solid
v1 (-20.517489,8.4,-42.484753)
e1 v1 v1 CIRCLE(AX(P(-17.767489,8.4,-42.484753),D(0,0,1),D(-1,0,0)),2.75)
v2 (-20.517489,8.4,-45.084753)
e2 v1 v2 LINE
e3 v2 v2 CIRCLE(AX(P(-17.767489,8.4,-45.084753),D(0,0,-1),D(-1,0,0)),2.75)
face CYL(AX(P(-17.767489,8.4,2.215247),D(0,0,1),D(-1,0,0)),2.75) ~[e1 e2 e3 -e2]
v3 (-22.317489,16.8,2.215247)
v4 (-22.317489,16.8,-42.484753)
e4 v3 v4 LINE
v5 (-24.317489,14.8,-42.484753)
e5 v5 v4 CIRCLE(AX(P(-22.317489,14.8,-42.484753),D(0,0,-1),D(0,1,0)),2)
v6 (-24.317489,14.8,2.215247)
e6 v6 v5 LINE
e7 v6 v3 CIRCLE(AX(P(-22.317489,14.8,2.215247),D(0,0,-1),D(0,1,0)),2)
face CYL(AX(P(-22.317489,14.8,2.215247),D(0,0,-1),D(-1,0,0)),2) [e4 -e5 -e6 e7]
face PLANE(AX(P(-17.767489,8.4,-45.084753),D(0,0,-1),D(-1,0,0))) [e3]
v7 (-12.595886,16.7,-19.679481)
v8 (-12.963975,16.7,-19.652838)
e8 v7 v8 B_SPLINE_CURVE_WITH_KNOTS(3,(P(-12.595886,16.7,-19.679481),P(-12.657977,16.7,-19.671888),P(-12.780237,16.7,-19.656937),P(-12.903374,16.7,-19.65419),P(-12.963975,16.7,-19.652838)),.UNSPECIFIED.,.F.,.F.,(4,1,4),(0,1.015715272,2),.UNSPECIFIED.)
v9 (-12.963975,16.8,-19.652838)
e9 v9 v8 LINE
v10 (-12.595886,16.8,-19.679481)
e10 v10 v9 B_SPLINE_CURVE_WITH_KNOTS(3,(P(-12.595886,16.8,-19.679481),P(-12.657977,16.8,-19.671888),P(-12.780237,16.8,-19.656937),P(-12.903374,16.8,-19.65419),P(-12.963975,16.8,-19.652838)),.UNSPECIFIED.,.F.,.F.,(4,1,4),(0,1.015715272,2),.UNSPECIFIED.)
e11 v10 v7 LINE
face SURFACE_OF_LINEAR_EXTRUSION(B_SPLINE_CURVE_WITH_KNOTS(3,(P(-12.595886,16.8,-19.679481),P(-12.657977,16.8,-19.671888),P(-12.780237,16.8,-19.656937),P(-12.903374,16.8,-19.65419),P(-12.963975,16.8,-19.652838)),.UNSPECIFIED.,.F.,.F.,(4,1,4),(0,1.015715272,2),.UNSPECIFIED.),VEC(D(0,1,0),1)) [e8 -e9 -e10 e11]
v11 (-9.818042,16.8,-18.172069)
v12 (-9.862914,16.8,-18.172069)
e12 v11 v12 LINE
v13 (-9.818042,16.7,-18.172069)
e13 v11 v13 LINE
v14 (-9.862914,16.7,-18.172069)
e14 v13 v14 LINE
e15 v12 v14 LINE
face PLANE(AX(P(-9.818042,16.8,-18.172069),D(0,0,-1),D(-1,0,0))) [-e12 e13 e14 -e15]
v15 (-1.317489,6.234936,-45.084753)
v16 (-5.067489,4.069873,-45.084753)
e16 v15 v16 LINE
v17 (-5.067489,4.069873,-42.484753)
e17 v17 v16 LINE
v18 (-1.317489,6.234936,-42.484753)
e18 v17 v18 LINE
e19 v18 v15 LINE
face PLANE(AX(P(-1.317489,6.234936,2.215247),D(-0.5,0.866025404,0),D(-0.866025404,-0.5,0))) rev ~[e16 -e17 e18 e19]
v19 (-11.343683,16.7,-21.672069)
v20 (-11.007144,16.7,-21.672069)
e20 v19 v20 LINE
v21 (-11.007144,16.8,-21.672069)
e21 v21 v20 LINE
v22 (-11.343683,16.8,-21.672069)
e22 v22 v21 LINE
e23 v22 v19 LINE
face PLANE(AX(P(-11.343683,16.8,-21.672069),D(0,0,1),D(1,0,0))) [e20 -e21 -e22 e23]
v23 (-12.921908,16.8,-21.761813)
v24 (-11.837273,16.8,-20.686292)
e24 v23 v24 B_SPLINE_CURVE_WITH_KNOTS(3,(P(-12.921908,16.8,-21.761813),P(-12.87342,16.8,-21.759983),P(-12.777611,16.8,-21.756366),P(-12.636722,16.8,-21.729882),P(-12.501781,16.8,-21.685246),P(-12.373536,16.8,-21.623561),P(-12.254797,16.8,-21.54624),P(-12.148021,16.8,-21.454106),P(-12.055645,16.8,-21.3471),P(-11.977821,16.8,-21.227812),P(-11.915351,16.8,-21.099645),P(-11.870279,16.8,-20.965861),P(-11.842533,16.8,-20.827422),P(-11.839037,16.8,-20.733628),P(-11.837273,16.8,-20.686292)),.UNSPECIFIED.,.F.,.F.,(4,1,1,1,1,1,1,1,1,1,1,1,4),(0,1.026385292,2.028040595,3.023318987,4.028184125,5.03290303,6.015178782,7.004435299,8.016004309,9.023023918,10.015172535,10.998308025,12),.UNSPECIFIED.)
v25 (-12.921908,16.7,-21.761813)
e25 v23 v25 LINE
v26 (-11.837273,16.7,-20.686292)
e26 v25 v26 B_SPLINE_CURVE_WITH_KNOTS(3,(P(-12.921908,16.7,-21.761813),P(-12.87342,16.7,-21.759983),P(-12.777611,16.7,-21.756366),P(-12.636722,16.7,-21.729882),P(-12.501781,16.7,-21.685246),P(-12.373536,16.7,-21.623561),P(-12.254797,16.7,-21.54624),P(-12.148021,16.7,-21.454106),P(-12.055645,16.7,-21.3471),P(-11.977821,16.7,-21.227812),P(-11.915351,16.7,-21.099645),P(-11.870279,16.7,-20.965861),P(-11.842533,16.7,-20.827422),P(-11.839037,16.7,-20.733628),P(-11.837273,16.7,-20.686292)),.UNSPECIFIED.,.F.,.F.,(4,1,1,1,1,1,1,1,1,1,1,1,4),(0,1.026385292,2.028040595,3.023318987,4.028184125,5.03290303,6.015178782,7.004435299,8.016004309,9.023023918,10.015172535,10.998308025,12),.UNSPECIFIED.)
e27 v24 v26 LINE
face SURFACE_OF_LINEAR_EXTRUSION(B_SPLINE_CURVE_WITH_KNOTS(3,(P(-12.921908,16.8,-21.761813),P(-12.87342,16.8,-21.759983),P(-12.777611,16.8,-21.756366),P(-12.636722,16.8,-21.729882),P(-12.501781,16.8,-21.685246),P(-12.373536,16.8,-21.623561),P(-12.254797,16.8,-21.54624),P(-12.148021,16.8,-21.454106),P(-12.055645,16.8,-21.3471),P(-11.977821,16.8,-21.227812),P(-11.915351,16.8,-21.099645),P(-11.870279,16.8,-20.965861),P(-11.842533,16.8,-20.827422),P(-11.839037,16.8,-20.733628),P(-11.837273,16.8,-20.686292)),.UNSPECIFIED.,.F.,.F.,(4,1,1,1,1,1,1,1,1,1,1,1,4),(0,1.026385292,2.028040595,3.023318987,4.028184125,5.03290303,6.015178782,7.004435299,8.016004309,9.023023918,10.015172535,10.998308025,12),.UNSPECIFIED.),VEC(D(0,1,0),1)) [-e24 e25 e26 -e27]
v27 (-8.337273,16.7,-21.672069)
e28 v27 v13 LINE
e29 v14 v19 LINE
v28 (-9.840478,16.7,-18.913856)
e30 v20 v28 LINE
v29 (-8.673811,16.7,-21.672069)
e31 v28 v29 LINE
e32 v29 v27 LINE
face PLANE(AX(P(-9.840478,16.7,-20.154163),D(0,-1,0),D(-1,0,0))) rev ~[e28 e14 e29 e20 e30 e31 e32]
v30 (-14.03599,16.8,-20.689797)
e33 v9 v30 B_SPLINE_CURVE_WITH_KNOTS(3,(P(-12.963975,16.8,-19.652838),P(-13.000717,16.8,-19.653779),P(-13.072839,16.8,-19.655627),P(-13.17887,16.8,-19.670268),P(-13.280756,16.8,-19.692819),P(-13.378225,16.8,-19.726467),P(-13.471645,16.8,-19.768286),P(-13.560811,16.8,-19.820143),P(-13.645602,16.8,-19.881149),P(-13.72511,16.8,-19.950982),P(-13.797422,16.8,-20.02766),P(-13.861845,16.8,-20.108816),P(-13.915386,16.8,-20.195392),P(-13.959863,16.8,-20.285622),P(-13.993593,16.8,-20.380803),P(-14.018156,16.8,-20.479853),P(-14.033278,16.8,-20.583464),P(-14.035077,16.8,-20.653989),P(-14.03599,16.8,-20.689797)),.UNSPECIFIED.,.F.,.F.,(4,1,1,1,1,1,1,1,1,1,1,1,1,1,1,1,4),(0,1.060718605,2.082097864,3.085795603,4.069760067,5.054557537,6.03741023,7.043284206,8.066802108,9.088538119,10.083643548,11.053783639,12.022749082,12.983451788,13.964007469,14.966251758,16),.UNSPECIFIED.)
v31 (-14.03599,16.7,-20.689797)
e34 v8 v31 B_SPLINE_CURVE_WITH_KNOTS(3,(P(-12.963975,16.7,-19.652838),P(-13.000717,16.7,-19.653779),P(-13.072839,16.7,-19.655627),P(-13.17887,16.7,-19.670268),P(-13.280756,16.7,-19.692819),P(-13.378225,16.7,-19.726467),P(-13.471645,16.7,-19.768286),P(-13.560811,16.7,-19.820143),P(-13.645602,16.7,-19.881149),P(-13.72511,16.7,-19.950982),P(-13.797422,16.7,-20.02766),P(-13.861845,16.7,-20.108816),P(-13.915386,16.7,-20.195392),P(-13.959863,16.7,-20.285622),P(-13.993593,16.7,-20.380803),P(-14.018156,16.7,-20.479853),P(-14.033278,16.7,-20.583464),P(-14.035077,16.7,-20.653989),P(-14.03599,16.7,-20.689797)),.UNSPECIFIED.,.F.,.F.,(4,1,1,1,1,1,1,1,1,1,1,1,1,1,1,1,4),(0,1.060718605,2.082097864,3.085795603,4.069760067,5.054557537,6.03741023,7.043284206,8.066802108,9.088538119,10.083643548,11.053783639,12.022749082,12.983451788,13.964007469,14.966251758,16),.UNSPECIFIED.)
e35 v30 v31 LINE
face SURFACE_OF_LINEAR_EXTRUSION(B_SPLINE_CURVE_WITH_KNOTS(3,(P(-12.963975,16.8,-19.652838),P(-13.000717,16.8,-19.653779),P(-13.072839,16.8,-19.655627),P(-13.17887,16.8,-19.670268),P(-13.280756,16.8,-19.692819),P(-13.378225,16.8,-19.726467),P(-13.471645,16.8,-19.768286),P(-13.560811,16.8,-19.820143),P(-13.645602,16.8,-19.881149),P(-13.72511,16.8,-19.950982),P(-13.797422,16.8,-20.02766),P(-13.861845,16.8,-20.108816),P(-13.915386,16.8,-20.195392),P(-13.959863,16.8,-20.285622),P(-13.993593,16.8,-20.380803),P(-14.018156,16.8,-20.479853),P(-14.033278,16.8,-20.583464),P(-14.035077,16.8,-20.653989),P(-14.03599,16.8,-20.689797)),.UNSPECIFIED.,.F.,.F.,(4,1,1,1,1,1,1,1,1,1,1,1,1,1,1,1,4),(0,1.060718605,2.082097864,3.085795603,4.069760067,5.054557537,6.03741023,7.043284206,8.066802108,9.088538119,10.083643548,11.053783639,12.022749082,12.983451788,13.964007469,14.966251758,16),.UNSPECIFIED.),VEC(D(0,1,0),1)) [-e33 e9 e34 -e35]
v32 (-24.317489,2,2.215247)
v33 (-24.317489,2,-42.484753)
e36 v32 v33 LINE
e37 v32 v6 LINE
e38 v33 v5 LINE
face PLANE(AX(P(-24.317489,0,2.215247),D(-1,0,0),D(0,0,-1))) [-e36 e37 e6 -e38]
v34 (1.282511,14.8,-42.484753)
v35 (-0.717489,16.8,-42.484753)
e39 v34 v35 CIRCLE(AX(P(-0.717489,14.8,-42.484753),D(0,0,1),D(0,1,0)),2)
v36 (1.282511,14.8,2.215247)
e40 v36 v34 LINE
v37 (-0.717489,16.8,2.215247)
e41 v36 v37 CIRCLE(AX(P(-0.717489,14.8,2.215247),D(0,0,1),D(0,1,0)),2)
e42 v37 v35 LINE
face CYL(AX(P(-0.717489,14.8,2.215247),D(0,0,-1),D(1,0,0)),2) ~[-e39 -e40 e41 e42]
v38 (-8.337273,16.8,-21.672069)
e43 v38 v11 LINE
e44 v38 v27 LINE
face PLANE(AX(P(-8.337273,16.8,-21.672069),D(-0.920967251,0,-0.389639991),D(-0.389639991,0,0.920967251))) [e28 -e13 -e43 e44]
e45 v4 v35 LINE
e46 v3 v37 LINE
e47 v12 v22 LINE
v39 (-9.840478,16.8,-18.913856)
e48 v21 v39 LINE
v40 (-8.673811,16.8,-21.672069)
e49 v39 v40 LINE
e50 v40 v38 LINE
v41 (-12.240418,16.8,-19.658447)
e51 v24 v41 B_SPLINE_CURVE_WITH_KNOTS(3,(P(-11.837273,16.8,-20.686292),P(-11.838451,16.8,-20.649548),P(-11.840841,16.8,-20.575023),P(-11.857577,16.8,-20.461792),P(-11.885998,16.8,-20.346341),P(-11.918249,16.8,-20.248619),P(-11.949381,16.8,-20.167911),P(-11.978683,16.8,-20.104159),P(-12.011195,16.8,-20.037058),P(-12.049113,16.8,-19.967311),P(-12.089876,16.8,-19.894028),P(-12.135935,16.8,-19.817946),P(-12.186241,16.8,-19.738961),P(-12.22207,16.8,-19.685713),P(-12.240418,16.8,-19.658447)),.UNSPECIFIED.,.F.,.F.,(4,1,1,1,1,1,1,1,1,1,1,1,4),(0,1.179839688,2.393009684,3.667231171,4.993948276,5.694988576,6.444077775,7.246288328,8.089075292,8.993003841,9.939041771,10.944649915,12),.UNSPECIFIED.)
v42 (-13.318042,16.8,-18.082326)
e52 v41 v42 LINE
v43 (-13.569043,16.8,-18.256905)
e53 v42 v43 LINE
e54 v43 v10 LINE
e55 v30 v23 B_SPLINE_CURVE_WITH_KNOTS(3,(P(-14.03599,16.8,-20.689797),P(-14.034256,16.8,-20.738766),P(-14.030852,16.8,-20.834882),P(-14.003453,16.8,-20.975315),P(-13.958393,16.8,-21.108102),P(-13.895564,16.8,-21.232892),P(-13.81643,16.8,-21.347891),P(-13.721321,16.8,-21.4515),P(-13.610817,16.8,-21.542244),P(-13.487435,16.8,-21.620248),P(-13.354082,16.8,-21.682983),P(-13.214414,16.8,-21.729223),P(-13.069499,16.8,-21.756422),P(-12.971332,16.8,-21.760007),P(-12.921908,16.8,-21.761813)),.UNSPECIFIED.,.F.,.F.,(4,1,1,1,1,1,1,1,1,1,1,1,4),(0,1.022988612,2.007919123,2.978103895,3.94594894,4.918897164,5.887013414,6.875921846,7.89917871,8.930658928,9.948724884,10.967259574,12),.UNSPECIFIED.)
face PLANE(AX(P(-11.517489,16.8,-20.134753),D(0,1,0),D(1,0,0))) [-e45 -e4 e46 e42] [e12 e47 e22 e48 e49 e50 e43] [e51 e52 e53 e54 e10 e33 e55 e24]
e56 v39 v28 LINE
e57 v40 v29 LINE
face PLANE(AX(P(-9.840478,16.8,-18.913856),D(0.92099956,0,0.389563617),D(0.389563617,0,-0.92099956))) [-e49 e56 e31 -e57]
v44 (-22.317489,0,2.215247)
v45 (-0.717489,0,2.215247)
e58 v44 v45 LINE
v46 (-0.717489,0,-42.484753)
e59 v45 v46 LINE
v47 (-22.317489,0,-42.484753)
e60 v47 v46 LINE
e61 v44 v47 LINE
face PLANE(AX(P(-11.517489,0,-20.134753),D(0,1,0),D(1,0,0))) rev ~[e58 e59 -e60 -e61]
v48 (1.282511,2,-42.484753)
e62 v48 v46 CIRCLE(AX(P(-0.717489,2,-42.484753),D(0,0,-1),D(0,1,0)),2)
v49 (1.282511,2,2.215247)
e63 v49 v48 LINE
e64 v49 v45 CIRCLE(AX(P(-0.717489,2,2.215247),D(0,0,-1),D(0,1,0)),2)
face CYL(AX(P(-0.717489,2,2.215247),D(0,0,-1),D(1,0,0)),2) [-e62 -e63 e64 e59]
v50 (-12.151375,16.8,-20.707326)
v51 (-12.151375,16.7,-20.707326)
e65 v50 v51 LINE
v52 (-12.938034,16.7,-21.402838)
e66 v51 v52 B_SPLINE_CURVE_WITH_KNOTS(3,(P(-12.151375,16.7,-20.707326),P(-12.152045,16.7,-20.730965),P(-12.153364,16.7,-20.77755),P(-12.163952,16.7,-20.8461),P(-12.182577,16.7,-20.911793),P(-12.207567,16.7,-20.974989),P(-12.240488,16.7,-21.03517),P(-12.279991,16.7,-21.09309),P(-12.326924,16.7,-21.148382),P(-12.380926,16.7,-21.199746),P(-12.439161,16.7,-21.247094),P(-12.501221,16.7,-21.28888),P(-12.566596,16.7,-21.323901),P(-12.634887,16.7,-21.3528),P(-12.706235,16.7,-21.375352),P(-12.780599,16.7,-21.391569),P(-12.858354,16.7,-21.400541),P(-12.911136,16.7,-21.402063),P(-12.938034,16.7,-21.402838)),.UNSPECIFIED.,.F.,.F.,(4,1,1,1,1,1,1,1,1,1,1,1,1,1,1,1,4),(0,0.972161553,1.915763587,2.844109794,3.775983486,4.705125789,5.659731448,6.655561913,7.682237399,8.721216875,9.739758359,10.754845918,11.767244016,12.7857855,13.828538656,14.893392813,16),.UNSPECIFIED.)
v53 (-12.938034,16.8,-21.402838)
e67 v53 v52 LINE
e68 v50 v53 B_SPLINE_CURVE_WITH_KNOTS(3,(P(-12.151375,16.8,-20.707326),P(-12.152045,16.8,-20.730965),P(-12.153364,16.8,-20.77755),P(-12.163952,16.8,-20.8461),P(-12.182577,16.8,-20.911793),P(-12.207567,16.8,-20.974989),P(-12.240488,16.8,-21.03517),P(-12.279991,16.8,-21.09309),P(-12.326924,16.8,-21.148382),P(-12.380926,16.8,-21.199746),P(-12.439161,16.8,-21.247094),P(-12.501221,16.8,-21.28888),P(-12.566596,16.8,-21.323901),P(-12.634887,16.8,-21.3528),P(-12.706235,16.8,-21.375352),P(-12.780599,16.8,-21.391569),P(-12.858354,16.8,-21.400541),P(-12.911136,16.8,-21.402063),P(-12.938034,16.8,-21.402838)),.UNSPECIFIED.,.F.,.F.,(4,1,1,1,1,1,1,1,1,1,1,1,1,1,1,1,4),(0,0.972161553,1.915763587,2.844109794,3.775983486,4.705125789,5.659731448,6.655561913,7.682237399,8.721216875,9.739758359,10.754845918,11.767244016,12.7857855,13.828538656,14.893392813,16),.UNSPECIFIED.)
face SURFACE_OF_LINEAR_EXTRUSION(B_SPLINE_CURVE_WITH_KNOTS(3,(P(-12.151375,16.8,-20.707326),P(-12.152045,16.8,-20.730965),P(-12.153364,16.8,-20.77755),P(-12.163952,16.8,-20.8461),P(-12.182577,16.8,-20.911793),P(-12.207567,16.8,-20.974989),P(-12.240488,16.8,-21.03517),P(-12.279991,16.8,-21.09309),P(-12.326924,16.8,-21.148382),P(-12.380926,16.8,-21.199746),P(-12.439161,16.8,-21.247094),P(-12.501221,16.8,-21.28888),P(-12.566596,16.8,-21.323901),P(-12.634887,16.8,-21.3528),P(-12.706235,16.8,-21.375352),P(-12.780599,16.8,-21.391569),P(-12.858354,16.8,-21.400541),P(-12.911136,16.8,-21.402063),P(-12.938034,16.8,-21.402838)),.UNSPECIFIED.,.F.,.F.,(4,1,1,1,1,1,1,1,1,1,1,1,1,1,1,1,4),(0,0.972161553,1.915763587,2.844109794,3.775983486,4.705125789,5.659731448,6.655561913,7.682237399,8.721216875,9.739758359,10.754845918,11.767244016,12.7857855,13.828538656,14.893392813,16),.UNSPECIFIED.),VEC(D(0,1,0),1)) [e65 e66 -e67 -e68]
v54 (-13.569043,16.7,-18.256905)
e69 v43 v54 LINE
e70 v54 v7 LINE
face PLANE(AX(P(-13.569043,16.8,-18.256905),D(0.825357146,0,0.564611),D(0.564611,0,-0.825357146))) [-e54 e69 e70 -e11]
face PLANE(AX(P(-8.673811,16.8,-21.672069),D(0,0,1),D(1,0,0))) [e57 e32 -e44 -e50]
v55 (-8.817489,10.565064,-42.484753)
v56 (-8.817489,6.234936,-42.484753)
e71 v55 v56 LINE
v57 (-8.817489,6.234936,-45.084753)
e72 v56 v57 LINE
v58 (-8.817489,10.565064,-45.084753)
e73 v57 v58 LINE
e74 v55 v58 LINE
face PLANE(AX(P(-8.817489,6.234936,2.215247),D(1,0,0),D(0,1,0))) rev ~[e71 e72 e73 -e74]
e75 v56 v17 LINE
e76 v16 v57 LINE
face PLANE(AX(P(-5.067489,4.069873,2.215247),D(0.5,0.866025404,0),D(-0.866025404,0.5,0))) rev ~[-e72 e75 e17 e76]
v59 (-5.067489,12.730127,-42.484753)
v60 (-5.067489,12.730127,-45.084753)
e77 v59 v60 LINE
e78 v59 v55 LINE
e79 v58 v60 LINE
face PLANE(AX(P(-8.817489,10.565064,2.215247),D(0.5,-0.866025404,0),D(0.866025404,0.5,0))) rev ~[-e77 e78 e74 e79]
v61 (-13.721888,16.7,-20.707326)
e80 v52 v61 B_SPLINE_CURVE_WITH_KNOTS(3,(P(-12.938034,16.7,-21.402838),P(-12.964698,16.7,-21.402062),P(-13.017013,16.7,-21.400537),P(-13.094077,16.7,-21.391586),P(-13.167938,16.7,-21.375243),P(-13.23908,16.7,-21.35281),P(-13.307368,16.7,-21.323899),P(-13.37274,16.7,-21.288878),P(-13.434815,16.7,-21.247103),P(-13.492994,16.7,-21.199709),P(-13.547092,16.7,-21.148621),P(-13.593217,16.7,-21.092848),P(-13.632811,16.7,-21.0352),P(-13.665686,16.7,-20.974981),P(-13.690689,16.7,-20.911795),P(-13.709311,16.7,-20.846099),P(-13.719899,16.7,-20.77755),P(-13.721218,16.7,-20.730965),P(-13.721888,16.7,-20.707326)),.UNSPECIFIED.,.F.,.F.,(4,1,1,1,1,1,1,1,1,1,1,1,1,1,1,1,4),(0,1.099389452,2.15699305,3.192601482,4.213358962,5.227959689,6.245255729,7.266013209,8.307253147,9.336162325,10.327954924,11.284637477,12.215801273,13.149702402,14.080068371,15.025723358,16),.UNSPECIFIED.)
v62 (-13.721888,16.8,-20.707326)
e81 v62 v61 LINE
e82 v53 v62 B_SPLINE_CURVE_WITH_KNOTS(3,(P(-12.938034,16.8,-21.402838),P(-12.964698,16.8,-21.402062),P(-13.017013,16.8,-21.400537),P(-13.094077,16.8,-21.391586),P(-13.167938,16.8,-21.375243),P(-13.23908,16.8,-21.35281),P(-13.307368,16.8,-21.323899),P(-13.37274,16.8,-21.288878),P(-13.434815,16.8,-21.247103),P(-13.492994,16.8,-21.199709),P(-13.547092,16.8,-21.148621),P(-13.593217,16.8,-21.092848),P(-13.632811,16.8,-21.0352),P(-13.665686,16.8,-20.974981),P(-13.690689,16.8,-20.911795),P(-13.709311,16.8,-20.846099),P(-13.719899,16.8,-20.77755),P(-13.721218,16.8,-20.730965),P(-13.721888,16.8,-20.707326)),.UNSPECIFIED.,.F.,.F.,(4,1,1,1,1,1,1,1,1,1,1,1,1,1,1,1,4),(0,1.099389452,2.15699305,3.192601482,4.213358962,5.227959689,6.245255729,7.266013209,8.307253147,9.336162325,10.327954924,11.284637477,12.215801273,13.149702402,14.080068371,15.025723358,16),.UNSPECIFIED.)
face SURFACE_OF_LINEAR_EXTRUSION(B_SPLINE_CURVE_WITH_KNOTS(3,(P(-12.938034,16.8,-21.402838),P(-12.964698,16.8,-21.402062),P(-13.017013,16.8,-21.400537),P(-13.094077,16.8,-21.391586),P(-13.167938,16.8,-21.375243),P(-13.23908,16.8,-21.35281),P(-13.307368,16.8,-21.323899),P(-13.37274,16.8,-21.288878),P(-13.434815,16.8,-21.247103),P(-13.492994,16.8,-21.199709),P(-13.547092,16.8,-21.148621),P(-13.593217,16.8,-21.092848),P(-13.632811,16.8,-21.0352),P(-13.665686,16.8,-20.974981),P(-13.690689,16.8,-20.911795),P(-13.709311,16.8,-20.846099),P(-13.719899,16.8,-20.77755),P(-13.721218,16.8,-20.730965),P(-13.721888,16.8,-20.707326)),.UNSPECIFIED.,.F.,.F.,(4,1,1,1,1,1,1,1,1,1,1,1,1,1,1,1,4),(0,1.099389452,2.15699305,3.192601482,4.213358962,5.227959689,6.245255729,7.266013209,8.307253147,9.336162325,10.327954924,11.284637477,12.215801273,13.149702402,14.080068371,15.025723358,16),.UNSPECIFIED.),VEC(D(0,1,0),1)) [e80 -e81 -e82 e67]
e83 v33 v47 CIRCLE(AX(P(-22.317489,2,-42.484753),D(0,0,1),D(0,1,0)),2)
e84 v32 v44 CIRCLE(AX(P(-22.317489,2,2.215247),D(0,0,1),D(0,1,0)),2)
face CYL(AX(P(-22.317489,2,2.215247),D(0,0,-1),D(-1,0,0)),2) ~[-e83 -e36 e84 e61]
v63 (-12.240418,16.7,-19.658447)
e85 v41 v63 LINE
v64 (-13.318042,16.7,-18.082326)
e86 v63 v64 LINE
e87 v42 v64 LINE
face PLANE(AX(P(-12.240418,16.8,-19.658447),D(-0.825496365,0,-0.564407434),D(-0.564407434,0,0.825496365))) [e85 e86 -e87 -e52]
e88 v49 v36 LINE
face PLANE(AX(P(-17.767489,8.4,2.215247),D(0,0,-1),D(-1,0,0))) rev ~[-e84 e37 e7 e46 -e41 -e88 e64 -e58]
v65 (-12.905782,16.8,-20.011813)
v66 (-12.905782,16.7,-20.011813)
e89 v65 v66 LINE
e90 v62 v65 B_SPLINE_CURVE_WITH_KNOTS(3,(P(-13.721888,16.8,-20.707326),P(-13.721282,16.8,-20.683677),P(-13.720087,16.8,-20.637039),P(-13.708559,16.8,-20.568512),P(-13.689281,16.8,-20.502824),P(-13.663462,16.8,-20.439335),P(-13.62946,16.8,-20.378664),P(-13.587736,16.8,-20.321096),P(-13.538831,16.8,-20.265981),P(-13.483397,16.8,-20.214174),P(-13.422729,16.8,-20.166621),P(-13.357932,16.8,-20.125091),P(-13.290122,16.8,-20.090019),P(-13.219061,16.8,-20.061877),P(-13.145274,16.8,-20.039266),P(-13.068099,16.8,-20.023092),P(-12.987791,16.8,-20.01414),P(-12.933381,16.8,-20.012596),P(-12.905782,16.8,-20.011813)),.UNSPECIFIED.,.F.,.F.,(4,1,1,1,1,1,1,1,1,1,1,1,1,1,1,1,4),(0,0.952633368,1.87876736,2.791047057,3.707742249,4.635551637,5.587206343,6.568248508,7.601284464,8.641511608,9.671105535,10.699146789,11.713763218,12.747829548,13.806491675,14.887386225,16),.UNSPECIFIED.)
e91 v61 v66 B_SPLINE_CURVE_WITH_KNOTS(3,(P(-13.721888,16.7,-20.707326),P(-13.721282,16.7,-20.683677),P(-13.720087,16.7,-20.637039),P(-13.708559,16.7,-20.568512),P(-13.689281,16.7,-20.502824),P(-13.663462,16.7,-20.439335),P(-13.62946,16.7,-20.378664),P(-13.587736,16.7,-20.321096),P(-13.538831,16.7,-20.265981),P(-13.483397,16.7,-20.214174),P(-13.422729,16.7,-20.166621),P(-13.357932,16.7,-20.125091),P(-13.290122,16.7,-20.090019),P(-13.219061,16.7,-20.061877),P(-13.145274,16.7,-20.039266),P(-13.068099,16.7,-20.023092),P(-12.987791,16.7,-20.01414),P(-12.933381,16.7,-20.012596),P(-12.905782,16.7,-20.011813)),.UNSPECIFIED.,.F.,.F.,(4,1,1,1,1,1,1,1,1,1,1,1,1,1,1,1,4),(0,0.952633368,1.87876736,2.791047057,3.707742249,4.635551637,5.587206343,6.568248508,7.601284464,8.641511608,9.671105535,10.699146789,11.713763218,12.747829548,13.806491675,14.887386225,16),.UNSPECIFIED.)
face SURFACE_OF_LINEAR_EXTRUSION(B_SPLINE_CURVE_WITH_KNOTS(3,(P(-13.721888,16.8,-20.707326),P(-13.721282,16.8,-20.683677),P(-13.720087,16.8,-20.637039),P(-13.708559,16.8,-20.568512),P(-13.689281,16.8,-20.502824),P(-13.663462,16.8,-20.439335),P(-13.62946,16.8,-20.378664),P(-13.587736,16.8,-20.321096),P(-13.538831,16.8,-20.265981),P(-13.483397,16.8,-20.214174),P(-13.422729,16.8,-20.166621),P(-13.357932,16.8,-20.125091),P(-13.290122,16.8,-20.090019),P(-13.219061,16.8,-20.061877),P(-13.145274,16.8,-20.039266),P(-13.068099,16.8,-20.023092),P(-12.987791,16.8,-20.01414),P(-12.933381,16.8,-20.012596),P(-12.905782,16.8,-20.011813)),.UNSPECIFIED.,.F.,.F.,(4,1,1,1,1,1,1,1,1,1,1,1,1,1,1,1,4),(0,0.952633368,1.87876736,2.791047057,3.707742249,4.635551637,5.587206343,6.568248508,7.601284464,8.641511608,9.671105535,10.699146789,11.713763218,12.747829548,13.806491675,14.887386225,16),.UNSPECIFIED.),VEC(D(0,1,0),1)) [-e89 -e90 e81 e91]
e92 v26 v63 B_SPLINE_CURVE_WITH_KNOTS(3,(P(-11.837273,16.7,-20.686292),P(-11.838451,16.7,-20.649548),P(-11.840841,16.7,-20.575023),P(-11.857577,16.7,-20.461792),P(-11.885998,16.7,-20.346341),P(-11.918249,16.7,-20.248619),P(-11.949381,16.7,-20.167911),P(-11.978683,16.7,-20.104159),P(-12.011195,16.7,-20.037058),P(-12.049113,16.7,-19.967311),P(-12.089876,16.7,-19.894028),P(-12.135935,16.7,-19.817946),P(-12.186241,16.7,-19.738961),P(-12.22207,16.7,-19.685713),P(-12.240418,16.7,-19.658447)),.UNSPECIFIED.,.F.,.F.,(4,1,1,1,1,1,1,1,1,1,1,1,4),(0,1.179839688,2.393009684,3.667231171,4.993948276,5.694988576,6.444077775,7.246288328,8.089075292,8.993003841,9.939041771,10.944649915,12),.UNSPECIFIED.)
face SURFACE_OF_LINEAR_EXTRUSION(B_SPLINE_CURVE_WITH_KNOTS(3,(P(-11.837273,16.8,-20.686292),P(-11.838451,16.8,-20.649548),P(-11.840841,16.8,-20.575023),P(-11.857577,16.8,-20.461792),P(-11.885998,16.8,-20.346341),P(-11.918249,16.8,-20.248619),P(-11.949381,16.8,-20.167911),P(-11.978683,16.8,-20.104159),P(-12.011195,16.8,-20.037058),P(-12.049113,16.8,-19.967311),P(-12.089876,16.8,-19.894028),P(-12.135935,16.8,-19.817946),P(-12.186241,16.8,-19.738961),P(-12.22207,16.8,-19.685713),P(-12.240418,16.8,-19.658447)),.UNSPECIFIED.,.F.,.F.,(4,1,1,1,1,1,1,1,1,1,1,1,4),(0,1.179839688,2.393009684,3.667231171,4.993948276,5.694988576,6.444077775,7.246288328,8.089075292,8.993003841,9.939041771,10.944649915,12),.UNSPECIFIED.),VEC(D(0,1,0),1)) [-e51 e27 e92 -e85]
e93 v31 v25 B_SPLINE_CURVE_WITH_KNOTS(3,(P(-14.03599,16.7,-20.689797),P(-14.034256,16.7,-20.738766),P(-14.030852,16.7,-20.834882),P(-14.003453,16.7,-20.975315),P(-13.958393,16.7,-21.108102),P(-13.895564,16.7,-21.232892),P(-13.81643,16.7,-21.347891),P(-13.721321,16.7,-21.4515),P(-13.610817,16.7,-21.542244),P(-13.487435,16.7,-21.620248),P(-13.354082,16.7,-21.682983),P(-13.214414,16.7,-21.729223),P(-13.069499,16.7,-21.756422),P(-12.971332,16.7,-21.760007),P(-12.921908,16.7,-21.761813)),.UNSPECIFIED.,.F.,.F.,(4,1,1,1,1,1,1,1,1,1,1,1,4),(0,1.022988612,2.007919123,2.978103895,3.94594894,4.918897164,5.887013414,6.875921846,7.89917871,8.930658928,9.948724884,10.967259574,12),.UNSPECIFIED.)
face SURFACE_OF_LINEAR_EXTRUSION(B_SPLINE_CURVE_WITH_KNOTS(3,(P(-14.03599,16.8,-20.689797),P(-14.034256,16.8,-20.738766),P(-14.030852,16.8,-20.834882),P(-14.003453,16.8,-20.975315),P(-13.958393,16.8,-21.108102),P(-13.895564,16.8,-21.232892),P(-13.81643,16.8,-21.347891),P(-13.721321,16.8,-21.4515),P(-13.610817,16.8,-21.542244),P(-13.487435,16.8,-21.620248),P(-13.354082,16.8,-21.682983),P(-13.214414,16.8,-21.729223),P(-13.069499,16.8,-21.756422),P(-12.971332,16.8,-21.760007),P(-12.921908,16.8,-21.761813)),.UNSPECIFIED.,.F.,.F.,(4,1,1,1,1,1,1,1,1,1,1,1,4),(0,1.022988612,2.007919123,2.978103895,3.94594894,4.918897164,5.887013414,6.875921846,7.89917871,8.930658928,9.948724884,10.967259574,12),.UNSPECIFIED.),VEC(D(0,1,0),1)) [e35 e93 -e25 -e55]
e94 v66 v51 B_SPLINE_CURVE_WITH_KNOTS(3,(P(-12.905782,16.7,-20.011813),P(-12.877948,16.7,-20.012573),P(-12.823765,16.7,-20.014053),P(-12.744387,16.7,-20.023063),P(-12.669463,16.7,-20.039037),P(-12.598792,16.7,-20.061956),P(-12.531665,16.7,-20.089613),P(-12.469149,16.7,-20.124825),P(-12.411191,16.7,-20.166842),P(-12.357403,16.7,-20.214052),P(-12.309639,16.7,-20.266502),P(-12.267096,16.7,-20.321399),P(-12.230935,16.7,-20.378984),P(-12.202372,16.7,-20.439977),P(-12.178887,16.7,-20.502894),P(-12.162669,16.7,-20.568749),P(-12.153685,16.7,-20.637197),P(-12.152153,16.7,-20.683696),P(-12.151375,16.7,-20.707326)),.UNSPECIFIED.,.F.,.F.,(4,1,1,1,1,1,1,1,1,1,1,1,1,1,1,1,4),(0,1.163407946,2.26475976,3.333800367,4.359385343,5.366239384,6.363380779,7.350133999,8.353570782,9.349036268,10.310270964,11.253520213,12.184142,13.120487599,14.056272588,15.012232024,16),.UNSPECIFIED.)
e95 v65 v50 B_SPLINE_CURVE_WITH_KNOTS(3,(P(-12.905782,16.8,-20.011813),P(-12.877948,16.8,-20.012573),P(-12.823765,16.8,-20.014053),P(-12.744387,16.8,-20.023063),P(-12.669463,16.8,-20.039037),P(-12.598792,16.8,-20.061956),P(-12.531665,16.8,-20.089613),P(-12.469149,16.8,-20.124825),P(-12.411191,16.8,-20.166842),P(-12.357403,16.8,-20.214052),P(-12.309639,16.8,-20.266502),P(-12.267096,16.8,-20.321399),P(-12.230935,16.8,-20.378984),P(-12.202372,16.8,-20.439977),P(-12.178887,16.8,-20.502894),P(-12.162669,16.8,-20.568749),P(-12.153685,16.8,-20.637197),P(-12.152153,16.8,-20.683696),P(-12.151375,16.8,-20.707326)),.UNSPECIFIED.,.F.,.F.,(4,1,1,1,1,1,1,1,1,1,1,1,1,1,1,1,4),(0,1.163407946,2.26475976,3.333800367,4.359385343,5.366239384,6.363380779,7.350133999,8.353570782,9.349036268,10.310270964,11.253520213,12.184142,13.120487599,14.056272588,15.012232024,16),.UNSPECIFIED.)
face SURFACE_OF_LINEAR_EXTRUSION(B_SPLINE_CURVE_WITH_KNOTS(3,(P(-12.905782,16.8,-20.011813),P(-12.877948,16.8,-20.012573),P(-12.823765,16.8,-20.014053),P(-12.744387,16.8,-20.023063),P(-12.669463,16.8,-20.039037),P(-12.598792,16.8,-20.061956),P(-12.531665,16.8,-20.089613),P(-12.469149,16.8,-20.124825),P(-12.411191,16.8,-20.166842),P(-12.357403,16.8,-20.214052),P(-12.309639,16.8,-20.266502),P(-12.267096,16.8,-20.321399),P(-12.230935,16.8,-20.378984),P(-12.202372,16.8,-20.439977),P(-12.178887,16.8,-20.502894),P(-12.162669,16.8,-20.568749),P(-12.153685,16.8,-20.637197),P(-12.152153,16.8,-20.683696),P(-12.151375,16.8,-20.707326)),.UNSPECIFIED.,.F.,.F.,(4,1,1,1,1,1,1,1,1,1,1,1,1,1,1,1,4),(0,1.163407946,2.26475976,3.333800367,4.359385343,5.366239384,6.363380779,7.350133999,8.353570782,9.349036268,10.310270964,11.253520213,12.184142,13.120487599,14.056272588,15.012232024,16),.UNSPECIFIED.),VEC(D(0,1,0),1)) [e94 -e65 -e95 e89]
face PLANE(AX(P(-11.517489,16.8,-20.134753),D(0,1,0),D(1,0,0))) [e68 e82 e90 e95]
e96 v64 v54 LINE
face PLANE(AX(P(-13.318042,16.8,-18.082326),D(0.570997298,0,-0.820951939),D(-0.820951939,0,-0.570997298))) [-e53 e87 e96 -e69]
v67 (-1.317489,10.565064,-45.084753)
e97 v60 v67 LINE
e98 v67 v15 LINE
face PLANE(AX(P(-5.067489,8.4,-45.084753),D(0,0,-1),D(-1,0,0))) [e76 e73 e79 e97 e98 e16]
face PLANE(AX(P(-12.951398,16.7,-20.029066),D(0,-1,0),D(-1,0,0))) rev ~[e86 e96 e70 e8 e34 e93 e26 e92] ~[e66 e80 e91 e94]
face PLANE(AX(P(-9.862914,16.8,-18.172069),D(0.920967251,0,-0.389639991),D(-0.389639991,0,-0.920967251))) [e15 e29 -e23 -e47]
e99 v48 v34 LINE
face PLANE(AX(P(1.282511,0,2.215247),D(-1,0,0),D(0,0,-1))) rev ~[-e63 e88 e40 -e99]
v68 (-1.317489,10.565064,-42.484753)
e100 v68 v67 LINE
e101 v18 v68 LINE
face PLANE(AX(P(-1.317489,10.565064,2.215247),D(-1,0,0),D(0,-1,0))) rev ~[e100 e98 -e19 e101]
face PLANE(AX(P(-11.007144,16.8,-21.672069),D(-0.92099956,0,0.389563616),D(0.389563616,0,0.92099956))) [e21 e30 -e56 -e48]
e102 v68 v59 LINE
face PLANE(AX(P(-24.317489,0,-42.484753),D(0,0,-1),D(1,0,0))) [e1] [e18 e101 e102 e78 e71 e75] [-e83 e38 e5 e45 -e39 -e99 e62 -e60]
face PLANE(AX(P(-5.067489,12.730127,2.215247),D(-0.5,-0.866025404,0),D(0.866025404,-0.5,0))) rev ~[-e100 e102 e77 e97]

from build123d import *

# Parameters (mm, degrees)
SKETCH1_W           = 25.6
SKETCH1_H           = 44.7
BOSS_EXTRUDE1_DEPTH = 16.8
FILLET1_R           = 2
BOSS_EXTRUDE2_START = -44.7
SKETCH2_R           = 2.75
BOSS_EXTRUDE2_DEPTH = 47.3
CUT_EXTRUDE1_DEPTH  = 0.1


with BuildPart() as part:
    # Sketch1 → Boss-Extrude1 (new body)
    with BuildSketch(Plane(origin=(0, 0, 0), x_dir=(1, 0, 0), z_dir=(0, 1, 0))):
        with Locations((-11.517488789, 20.134753363)):
            Rectangle(SKETCH1_W, SKETCH1_H)
    extrude(amount=BOSS_EXTRUDE1_DEPTH)

    # Fillet1
    fillet1_edges = [part.edges().sort_by_distance(p)[0] for p in [
        (1.282511211, 16.8, -20.134753363),
        (-24.317488789, 16.8, -20.134753363),
        (1.282511211, 0, -20.134753363),
        (-24.317488789, 0, -20.134753363),
    ]]
    fillet(fillet1_edges, radius=FILLET1_R)

    # Sketch2 → Boss-Extrude2 (add)
    with BuildSketch(Plane(origin=(0, 0, -42.484753363), x_dir=(-1, 0, 0), z_dir=(0, 0, -1)).offset(BOSS_EXTRUDE2_START)):
        with Locations((17.767488789, 8.4)):
            Circle(SKETCH2_R)
        Polygon((5.067488789, 12.730127019), (1.317488789, 10.565063509), (1.317488789, 6.234936491), (5.067488789, 4.069872981), (8.817488789, 6.234936491), (8.817488789, 10.565063509), align=None)
    extrude(amount=BOSS_EXTRUDE2_DEPTH)

    # Sketch3 → Cut-Extrude1 (cut)
    # profile 1 of 2: a face of its own
    with BuildSketch(Plane(origin=(0, 16.8, 0), x_dir=(1, 0, 0), z_dir=(0, 1, 0))):
        with BuildLine():
            Line((-13.318041778, 18.082325539), (-13.569043381, 18.256904866))
            Line((-13.569043381, 18.256904866), (-12.595886329, 19.679480988))
            add(Edge.make_bspline(
                [(-12.595886329, 19.679480988), (-12.657977065, 19.671887924), (-12.780237185, 19.656936759), (-12.903374287, 19.654190105), (-12.963975272, 19.652838359)],
                knots=[0, 0, 0, 0, 1.015715272, 2, 2, 2, 2], degree=3))
            add(Edge.make_bspline(
                [(-12.963975272, 19.652838359), (-13.00071732, 19.653779436), (-13.072838746, 19.655626687), (-13.178870399, 19.670268495), (-13.280755959, 19.692818623), (-13.378225315, 19.726467378), (-13.47164482, 19.768285587), (-13.560810534, 19.8201426), (-13.645602424, 19.881148892), (-13.725109834, 19.950981884), (-13.797421573, 20.027659936), (-13.861844871, 20.108815579), (-13.915386003, 20.19539155), (-13.959862588, 20.285621769), (-13.993593042, 20.38080312), (-14.018155579, 20.47985252), (-14.033277934, 20.583464162), (-14.035077029, 20.653989293), (-14.035990496, 20.689797494)],
                knots=[0, 0, 0, 0, 1.060718605, 2.082097864, 3.085795603, 4.069760067, 5.054557537, 6.03741023, 7.043284206, 8.066802108, 9.088538119, 10.083643548, 11.053783639, 12.022749082, 12.983451788, 13.964007469, 14.966251758, 16, 16, 16, 16], degree=3))
            add(Edge.make_bspline(
                [(-14.035990496, 20.689797494), (-14.034256061, 20.738766147), (-14.030851718, 20.834881678), (-14.0034532, 20.975315447), (-13.958392861, 21.108101991), (-13.895564484, 21.232892185), (-13.816429763, 21.347890924), (-13.721321173, 21.451499533), (-13.610817209, 21.542244387), (-13.487435189, 21.620248464), (-13.354082169, 21.682983462), (-13.214413511, 21.729222762), (-13.069499391, 21.75642151), (-12.97133172, 21.760007371), (-12.921907964, 21.761812718)],
                knots=[0, 0, 0, 0, 1.022988612, 2.007919123, 2.978103895, 3.94594894, 4.918897164, 5.887013414, 6.875921846, 7.89917871, 8.930658928, 9.948724884, 10.967259574, 12, 12, 12, 12], degree=3))
            add(Edge.make_bspline(
                [(-12.921907964, 21.761812718), (-12.873419544, 21.759982555), (-12.777610998, 21.756366326), (-12.636721991, 21.729882357), (-12.501780974, 21.685245684), (-12.373535987, 21.62356112), (-12.254796575, 21.546240212), (-12.148020764, 21.454105689), (-12.055645225, 21.347100161), (-11.977821344, 21.227811671), (-11.915351304, 21.09964469), (-11.870279021, 20.965860768), (-11.842533382, 20.827422046), (-11.839037055, 20.733627572), (-11.837272547, 20.686291885)],
                knots=[0, 0, 0, 0, 1.026385292, 2.028040595, 3.023318987, 4.028184125, 5.03290303, 6.015178782, 7.004435299, 8.016004309, 9.023023918, 10.015172535, 10.998308025, 12, 12, 12, 12], degree=3))
            add(Edge.make_bspline(
                [(-11.837272547, 20.686291885), (-11.838450956, 20.649548118), (-11.840841064, 20.575022577), (-11.857577371, 20.461792234), (-11.885997556, 20.346341005), (-11.918249255, 20.248619409), (-11.949381423, 20.167910959), (-11.978682554, 20.104159379), (-12.011194708, 20.037058116), (-12.049113473, 19.967310778), (-12.08987577, 19.894028243), (-12.135935047, 19.817945527), (-12.186240619, 19.738960534), (-12.222070338, 19.685713446), (-12.240417579, 19.658447334)],
                knots=[0, 0, 0, 0, 1.179839688, 2.393009684, 3.667231171, 4.993948276, 5.694988576, 6.444077775, 7.246288328, 8.089075292, 8.993003841, 9.939041771, 10.944649915, 12, 12, 12, 12], degree=3))
            Line((-12.240417579, 19.658447334), (-13.318041778, 18.082325539))
        make_face()
        with BuildLine():
            add(Edge.make_bspline(
                [(-12.905782163, 20.011812718), (-12.877948149, 20.012573102), (-12.823764786, 20.014053311), (-12.744387487, 20.023062553), (-12.669463283, 20.039036539), (-12.598792034, 20.061956251), (-12.531665132, 20.08961292), (-12.469148804, 20.124824906), (-12.411190728, 20.166841541), (-12.357402801, 20.214051556), (-12.309638802, 20.26650214), (-12.267095771, 20.321399247), (-12.230935204, 20.378983857), (-12.202371926, 20.439977119), (-12.178887351, 20.502894327), (-12.162669339, 20.568748683), (-12.153685006, 20.637197083), (-12.152153431, 20.683695741), (-12.151375111, 20.707325539)],
                knots=[0, 0, 0, 0, 1.163407946, 2.26475976, 3.333800367, 4.359385343, 5.366239384, 6.363380779, 7.350133999, 8.353570782, 9.349036268, 10.310270964, 11.253520213, 12.184142, 13.120487599, 14.056272588, 15.012232024, 16, 16, 16, 16], degree=3))
            add(Edge.make_bspline(
                [(-12.151375111, 20.707325539), (-12.152044781, 20.730965204), (-12.153364446, 20.777550064), (-12.163951746, 20.846099804), (-12.182576969, 20.911793065), (-12.207567453, 20.974989495), (-12.240487691, 21.035169867), (-12.279991177, 21.093089738), (-12.326923627, 21.148381866), (-12.380926193, 21.19974585), (-12.439160746, 21.247093749), (-12.501221246, 21.288879825), (-12.566596162, 21.323901021), (-12.634886652, 21.352799991), (-12.706235001, 21.375351767), (-12.780598989, 21.391569132), (-12.858354395, 21.400540886), (-12.911135681, 21.402062781), (-12.938033765, 21.402838359)],
                knots=[0, 0, 0, 0, 0.972161553, 1.915763587, 2.844109794, 3.775983486, 4.705125789, 5.659731448, 6.655561913, 7.682237399, 8.721216875, 9.739758359, 10.754845918, 11.767244016, 12.7857855, 13.828538656, 14.893392813, 16, 16, 16, 16], degree=3))
            add(Edge.make_bspline(
                [(-12.938033765, 21.402838359), (-12.964697919, 21.402061528), (-13.017012768, 21.40053739), (-13.094076927, 21.391586185), (-13.167938095, 21.375242701), (-13.239079716, 21.352810437), (-13.307368176, 21.323898866), (-13.372740009, 21.28887799), (-13.434815026, 21.247103368), (-13.492993746, 21.199708595), (-13.547091668, 21.148620949), (-13.593217197, 21.09284752), (-13.63281109, 21.035199996), (-13.665686092, 20.974981487), (-13.69068861, 20.911795202), (-13.709310611, 20.846099225), (-13.719898776, 20.777550215), (-13.721218323, 20.730965255), (-13.721887932, 20.707325539)],
                knots=[0, 0, 0, 0, 1.099389452, 2.15699305, 3.192601482, 4.213358962, 5.227959689, 6.245255729, 7.266013209, 8.307253147, 9.336162325, 10.327954924, 11.284637477, 12.215801273, 13.149702402, 14.080068371, 15.025723358, 16, 16, 16, 16], degree=3))
            add(Edge.make_bspline(
                [(-13.721887932, 20.707325539), (-13.721282006, 20.68367734), (-13.720087009, 20.637038764), (-13.708559219, 20.568512371), (-13.689280939, 20.502824177), (-13.663461549, 20.43933547), (-13.629459958, 20.378663612), (-13.58773611, 20.32109625), (-13.538830564, 20.2659808), (-13.483397077, 20.214173588), (-13.422728916, 20.166621412), (-13.35793217, 20.12509103), (-13.290122333, 20.090018586), (-13.219060702, 20.061877202), (-13.145273902, 20.039265539), (-13.068098771, 20.023091993), (-12.987790533, 20.014139727), (-12.933380551, 20.01259583), (-12.905782163, 20.011812718)],
                knots=[0, 0, 0, 0, 0.952633368, 1.87876736, 2.791047057, 3.707742249, 4.635551637, 5.587206343, 6.568248508, 7.601284464, 8.641511608, 9.671105535, 10.699146789, 11.713763218, 12.747829548, 13.806491675, 14.887386225, 16, 16, 16, 16], degree=3))
        make_face(mode=Mode.SUBTRACT)
    # profile 2 of 2: a face of its own
    with BuildSketch(Plane(origin=(0, 16.8, 0), x_dir=(1, 0, 0), z_dir=(0, 1, 0))):
        Polygon((-11.343682804, 21.672069129), (-11.007144342, 21.672069129), (-9.840477676, 18.913855988), (-8.673811009, 21.672069129), (-8.337272547, 21.672069129), (-9.818041778, 18.172069129), (-9.862913573, 18.172069129), align=None)
    extrude(amount=-CUT_EXTRUDE1_DEPTH, mode=Mode.SUBTRACT)


solid = part.part
